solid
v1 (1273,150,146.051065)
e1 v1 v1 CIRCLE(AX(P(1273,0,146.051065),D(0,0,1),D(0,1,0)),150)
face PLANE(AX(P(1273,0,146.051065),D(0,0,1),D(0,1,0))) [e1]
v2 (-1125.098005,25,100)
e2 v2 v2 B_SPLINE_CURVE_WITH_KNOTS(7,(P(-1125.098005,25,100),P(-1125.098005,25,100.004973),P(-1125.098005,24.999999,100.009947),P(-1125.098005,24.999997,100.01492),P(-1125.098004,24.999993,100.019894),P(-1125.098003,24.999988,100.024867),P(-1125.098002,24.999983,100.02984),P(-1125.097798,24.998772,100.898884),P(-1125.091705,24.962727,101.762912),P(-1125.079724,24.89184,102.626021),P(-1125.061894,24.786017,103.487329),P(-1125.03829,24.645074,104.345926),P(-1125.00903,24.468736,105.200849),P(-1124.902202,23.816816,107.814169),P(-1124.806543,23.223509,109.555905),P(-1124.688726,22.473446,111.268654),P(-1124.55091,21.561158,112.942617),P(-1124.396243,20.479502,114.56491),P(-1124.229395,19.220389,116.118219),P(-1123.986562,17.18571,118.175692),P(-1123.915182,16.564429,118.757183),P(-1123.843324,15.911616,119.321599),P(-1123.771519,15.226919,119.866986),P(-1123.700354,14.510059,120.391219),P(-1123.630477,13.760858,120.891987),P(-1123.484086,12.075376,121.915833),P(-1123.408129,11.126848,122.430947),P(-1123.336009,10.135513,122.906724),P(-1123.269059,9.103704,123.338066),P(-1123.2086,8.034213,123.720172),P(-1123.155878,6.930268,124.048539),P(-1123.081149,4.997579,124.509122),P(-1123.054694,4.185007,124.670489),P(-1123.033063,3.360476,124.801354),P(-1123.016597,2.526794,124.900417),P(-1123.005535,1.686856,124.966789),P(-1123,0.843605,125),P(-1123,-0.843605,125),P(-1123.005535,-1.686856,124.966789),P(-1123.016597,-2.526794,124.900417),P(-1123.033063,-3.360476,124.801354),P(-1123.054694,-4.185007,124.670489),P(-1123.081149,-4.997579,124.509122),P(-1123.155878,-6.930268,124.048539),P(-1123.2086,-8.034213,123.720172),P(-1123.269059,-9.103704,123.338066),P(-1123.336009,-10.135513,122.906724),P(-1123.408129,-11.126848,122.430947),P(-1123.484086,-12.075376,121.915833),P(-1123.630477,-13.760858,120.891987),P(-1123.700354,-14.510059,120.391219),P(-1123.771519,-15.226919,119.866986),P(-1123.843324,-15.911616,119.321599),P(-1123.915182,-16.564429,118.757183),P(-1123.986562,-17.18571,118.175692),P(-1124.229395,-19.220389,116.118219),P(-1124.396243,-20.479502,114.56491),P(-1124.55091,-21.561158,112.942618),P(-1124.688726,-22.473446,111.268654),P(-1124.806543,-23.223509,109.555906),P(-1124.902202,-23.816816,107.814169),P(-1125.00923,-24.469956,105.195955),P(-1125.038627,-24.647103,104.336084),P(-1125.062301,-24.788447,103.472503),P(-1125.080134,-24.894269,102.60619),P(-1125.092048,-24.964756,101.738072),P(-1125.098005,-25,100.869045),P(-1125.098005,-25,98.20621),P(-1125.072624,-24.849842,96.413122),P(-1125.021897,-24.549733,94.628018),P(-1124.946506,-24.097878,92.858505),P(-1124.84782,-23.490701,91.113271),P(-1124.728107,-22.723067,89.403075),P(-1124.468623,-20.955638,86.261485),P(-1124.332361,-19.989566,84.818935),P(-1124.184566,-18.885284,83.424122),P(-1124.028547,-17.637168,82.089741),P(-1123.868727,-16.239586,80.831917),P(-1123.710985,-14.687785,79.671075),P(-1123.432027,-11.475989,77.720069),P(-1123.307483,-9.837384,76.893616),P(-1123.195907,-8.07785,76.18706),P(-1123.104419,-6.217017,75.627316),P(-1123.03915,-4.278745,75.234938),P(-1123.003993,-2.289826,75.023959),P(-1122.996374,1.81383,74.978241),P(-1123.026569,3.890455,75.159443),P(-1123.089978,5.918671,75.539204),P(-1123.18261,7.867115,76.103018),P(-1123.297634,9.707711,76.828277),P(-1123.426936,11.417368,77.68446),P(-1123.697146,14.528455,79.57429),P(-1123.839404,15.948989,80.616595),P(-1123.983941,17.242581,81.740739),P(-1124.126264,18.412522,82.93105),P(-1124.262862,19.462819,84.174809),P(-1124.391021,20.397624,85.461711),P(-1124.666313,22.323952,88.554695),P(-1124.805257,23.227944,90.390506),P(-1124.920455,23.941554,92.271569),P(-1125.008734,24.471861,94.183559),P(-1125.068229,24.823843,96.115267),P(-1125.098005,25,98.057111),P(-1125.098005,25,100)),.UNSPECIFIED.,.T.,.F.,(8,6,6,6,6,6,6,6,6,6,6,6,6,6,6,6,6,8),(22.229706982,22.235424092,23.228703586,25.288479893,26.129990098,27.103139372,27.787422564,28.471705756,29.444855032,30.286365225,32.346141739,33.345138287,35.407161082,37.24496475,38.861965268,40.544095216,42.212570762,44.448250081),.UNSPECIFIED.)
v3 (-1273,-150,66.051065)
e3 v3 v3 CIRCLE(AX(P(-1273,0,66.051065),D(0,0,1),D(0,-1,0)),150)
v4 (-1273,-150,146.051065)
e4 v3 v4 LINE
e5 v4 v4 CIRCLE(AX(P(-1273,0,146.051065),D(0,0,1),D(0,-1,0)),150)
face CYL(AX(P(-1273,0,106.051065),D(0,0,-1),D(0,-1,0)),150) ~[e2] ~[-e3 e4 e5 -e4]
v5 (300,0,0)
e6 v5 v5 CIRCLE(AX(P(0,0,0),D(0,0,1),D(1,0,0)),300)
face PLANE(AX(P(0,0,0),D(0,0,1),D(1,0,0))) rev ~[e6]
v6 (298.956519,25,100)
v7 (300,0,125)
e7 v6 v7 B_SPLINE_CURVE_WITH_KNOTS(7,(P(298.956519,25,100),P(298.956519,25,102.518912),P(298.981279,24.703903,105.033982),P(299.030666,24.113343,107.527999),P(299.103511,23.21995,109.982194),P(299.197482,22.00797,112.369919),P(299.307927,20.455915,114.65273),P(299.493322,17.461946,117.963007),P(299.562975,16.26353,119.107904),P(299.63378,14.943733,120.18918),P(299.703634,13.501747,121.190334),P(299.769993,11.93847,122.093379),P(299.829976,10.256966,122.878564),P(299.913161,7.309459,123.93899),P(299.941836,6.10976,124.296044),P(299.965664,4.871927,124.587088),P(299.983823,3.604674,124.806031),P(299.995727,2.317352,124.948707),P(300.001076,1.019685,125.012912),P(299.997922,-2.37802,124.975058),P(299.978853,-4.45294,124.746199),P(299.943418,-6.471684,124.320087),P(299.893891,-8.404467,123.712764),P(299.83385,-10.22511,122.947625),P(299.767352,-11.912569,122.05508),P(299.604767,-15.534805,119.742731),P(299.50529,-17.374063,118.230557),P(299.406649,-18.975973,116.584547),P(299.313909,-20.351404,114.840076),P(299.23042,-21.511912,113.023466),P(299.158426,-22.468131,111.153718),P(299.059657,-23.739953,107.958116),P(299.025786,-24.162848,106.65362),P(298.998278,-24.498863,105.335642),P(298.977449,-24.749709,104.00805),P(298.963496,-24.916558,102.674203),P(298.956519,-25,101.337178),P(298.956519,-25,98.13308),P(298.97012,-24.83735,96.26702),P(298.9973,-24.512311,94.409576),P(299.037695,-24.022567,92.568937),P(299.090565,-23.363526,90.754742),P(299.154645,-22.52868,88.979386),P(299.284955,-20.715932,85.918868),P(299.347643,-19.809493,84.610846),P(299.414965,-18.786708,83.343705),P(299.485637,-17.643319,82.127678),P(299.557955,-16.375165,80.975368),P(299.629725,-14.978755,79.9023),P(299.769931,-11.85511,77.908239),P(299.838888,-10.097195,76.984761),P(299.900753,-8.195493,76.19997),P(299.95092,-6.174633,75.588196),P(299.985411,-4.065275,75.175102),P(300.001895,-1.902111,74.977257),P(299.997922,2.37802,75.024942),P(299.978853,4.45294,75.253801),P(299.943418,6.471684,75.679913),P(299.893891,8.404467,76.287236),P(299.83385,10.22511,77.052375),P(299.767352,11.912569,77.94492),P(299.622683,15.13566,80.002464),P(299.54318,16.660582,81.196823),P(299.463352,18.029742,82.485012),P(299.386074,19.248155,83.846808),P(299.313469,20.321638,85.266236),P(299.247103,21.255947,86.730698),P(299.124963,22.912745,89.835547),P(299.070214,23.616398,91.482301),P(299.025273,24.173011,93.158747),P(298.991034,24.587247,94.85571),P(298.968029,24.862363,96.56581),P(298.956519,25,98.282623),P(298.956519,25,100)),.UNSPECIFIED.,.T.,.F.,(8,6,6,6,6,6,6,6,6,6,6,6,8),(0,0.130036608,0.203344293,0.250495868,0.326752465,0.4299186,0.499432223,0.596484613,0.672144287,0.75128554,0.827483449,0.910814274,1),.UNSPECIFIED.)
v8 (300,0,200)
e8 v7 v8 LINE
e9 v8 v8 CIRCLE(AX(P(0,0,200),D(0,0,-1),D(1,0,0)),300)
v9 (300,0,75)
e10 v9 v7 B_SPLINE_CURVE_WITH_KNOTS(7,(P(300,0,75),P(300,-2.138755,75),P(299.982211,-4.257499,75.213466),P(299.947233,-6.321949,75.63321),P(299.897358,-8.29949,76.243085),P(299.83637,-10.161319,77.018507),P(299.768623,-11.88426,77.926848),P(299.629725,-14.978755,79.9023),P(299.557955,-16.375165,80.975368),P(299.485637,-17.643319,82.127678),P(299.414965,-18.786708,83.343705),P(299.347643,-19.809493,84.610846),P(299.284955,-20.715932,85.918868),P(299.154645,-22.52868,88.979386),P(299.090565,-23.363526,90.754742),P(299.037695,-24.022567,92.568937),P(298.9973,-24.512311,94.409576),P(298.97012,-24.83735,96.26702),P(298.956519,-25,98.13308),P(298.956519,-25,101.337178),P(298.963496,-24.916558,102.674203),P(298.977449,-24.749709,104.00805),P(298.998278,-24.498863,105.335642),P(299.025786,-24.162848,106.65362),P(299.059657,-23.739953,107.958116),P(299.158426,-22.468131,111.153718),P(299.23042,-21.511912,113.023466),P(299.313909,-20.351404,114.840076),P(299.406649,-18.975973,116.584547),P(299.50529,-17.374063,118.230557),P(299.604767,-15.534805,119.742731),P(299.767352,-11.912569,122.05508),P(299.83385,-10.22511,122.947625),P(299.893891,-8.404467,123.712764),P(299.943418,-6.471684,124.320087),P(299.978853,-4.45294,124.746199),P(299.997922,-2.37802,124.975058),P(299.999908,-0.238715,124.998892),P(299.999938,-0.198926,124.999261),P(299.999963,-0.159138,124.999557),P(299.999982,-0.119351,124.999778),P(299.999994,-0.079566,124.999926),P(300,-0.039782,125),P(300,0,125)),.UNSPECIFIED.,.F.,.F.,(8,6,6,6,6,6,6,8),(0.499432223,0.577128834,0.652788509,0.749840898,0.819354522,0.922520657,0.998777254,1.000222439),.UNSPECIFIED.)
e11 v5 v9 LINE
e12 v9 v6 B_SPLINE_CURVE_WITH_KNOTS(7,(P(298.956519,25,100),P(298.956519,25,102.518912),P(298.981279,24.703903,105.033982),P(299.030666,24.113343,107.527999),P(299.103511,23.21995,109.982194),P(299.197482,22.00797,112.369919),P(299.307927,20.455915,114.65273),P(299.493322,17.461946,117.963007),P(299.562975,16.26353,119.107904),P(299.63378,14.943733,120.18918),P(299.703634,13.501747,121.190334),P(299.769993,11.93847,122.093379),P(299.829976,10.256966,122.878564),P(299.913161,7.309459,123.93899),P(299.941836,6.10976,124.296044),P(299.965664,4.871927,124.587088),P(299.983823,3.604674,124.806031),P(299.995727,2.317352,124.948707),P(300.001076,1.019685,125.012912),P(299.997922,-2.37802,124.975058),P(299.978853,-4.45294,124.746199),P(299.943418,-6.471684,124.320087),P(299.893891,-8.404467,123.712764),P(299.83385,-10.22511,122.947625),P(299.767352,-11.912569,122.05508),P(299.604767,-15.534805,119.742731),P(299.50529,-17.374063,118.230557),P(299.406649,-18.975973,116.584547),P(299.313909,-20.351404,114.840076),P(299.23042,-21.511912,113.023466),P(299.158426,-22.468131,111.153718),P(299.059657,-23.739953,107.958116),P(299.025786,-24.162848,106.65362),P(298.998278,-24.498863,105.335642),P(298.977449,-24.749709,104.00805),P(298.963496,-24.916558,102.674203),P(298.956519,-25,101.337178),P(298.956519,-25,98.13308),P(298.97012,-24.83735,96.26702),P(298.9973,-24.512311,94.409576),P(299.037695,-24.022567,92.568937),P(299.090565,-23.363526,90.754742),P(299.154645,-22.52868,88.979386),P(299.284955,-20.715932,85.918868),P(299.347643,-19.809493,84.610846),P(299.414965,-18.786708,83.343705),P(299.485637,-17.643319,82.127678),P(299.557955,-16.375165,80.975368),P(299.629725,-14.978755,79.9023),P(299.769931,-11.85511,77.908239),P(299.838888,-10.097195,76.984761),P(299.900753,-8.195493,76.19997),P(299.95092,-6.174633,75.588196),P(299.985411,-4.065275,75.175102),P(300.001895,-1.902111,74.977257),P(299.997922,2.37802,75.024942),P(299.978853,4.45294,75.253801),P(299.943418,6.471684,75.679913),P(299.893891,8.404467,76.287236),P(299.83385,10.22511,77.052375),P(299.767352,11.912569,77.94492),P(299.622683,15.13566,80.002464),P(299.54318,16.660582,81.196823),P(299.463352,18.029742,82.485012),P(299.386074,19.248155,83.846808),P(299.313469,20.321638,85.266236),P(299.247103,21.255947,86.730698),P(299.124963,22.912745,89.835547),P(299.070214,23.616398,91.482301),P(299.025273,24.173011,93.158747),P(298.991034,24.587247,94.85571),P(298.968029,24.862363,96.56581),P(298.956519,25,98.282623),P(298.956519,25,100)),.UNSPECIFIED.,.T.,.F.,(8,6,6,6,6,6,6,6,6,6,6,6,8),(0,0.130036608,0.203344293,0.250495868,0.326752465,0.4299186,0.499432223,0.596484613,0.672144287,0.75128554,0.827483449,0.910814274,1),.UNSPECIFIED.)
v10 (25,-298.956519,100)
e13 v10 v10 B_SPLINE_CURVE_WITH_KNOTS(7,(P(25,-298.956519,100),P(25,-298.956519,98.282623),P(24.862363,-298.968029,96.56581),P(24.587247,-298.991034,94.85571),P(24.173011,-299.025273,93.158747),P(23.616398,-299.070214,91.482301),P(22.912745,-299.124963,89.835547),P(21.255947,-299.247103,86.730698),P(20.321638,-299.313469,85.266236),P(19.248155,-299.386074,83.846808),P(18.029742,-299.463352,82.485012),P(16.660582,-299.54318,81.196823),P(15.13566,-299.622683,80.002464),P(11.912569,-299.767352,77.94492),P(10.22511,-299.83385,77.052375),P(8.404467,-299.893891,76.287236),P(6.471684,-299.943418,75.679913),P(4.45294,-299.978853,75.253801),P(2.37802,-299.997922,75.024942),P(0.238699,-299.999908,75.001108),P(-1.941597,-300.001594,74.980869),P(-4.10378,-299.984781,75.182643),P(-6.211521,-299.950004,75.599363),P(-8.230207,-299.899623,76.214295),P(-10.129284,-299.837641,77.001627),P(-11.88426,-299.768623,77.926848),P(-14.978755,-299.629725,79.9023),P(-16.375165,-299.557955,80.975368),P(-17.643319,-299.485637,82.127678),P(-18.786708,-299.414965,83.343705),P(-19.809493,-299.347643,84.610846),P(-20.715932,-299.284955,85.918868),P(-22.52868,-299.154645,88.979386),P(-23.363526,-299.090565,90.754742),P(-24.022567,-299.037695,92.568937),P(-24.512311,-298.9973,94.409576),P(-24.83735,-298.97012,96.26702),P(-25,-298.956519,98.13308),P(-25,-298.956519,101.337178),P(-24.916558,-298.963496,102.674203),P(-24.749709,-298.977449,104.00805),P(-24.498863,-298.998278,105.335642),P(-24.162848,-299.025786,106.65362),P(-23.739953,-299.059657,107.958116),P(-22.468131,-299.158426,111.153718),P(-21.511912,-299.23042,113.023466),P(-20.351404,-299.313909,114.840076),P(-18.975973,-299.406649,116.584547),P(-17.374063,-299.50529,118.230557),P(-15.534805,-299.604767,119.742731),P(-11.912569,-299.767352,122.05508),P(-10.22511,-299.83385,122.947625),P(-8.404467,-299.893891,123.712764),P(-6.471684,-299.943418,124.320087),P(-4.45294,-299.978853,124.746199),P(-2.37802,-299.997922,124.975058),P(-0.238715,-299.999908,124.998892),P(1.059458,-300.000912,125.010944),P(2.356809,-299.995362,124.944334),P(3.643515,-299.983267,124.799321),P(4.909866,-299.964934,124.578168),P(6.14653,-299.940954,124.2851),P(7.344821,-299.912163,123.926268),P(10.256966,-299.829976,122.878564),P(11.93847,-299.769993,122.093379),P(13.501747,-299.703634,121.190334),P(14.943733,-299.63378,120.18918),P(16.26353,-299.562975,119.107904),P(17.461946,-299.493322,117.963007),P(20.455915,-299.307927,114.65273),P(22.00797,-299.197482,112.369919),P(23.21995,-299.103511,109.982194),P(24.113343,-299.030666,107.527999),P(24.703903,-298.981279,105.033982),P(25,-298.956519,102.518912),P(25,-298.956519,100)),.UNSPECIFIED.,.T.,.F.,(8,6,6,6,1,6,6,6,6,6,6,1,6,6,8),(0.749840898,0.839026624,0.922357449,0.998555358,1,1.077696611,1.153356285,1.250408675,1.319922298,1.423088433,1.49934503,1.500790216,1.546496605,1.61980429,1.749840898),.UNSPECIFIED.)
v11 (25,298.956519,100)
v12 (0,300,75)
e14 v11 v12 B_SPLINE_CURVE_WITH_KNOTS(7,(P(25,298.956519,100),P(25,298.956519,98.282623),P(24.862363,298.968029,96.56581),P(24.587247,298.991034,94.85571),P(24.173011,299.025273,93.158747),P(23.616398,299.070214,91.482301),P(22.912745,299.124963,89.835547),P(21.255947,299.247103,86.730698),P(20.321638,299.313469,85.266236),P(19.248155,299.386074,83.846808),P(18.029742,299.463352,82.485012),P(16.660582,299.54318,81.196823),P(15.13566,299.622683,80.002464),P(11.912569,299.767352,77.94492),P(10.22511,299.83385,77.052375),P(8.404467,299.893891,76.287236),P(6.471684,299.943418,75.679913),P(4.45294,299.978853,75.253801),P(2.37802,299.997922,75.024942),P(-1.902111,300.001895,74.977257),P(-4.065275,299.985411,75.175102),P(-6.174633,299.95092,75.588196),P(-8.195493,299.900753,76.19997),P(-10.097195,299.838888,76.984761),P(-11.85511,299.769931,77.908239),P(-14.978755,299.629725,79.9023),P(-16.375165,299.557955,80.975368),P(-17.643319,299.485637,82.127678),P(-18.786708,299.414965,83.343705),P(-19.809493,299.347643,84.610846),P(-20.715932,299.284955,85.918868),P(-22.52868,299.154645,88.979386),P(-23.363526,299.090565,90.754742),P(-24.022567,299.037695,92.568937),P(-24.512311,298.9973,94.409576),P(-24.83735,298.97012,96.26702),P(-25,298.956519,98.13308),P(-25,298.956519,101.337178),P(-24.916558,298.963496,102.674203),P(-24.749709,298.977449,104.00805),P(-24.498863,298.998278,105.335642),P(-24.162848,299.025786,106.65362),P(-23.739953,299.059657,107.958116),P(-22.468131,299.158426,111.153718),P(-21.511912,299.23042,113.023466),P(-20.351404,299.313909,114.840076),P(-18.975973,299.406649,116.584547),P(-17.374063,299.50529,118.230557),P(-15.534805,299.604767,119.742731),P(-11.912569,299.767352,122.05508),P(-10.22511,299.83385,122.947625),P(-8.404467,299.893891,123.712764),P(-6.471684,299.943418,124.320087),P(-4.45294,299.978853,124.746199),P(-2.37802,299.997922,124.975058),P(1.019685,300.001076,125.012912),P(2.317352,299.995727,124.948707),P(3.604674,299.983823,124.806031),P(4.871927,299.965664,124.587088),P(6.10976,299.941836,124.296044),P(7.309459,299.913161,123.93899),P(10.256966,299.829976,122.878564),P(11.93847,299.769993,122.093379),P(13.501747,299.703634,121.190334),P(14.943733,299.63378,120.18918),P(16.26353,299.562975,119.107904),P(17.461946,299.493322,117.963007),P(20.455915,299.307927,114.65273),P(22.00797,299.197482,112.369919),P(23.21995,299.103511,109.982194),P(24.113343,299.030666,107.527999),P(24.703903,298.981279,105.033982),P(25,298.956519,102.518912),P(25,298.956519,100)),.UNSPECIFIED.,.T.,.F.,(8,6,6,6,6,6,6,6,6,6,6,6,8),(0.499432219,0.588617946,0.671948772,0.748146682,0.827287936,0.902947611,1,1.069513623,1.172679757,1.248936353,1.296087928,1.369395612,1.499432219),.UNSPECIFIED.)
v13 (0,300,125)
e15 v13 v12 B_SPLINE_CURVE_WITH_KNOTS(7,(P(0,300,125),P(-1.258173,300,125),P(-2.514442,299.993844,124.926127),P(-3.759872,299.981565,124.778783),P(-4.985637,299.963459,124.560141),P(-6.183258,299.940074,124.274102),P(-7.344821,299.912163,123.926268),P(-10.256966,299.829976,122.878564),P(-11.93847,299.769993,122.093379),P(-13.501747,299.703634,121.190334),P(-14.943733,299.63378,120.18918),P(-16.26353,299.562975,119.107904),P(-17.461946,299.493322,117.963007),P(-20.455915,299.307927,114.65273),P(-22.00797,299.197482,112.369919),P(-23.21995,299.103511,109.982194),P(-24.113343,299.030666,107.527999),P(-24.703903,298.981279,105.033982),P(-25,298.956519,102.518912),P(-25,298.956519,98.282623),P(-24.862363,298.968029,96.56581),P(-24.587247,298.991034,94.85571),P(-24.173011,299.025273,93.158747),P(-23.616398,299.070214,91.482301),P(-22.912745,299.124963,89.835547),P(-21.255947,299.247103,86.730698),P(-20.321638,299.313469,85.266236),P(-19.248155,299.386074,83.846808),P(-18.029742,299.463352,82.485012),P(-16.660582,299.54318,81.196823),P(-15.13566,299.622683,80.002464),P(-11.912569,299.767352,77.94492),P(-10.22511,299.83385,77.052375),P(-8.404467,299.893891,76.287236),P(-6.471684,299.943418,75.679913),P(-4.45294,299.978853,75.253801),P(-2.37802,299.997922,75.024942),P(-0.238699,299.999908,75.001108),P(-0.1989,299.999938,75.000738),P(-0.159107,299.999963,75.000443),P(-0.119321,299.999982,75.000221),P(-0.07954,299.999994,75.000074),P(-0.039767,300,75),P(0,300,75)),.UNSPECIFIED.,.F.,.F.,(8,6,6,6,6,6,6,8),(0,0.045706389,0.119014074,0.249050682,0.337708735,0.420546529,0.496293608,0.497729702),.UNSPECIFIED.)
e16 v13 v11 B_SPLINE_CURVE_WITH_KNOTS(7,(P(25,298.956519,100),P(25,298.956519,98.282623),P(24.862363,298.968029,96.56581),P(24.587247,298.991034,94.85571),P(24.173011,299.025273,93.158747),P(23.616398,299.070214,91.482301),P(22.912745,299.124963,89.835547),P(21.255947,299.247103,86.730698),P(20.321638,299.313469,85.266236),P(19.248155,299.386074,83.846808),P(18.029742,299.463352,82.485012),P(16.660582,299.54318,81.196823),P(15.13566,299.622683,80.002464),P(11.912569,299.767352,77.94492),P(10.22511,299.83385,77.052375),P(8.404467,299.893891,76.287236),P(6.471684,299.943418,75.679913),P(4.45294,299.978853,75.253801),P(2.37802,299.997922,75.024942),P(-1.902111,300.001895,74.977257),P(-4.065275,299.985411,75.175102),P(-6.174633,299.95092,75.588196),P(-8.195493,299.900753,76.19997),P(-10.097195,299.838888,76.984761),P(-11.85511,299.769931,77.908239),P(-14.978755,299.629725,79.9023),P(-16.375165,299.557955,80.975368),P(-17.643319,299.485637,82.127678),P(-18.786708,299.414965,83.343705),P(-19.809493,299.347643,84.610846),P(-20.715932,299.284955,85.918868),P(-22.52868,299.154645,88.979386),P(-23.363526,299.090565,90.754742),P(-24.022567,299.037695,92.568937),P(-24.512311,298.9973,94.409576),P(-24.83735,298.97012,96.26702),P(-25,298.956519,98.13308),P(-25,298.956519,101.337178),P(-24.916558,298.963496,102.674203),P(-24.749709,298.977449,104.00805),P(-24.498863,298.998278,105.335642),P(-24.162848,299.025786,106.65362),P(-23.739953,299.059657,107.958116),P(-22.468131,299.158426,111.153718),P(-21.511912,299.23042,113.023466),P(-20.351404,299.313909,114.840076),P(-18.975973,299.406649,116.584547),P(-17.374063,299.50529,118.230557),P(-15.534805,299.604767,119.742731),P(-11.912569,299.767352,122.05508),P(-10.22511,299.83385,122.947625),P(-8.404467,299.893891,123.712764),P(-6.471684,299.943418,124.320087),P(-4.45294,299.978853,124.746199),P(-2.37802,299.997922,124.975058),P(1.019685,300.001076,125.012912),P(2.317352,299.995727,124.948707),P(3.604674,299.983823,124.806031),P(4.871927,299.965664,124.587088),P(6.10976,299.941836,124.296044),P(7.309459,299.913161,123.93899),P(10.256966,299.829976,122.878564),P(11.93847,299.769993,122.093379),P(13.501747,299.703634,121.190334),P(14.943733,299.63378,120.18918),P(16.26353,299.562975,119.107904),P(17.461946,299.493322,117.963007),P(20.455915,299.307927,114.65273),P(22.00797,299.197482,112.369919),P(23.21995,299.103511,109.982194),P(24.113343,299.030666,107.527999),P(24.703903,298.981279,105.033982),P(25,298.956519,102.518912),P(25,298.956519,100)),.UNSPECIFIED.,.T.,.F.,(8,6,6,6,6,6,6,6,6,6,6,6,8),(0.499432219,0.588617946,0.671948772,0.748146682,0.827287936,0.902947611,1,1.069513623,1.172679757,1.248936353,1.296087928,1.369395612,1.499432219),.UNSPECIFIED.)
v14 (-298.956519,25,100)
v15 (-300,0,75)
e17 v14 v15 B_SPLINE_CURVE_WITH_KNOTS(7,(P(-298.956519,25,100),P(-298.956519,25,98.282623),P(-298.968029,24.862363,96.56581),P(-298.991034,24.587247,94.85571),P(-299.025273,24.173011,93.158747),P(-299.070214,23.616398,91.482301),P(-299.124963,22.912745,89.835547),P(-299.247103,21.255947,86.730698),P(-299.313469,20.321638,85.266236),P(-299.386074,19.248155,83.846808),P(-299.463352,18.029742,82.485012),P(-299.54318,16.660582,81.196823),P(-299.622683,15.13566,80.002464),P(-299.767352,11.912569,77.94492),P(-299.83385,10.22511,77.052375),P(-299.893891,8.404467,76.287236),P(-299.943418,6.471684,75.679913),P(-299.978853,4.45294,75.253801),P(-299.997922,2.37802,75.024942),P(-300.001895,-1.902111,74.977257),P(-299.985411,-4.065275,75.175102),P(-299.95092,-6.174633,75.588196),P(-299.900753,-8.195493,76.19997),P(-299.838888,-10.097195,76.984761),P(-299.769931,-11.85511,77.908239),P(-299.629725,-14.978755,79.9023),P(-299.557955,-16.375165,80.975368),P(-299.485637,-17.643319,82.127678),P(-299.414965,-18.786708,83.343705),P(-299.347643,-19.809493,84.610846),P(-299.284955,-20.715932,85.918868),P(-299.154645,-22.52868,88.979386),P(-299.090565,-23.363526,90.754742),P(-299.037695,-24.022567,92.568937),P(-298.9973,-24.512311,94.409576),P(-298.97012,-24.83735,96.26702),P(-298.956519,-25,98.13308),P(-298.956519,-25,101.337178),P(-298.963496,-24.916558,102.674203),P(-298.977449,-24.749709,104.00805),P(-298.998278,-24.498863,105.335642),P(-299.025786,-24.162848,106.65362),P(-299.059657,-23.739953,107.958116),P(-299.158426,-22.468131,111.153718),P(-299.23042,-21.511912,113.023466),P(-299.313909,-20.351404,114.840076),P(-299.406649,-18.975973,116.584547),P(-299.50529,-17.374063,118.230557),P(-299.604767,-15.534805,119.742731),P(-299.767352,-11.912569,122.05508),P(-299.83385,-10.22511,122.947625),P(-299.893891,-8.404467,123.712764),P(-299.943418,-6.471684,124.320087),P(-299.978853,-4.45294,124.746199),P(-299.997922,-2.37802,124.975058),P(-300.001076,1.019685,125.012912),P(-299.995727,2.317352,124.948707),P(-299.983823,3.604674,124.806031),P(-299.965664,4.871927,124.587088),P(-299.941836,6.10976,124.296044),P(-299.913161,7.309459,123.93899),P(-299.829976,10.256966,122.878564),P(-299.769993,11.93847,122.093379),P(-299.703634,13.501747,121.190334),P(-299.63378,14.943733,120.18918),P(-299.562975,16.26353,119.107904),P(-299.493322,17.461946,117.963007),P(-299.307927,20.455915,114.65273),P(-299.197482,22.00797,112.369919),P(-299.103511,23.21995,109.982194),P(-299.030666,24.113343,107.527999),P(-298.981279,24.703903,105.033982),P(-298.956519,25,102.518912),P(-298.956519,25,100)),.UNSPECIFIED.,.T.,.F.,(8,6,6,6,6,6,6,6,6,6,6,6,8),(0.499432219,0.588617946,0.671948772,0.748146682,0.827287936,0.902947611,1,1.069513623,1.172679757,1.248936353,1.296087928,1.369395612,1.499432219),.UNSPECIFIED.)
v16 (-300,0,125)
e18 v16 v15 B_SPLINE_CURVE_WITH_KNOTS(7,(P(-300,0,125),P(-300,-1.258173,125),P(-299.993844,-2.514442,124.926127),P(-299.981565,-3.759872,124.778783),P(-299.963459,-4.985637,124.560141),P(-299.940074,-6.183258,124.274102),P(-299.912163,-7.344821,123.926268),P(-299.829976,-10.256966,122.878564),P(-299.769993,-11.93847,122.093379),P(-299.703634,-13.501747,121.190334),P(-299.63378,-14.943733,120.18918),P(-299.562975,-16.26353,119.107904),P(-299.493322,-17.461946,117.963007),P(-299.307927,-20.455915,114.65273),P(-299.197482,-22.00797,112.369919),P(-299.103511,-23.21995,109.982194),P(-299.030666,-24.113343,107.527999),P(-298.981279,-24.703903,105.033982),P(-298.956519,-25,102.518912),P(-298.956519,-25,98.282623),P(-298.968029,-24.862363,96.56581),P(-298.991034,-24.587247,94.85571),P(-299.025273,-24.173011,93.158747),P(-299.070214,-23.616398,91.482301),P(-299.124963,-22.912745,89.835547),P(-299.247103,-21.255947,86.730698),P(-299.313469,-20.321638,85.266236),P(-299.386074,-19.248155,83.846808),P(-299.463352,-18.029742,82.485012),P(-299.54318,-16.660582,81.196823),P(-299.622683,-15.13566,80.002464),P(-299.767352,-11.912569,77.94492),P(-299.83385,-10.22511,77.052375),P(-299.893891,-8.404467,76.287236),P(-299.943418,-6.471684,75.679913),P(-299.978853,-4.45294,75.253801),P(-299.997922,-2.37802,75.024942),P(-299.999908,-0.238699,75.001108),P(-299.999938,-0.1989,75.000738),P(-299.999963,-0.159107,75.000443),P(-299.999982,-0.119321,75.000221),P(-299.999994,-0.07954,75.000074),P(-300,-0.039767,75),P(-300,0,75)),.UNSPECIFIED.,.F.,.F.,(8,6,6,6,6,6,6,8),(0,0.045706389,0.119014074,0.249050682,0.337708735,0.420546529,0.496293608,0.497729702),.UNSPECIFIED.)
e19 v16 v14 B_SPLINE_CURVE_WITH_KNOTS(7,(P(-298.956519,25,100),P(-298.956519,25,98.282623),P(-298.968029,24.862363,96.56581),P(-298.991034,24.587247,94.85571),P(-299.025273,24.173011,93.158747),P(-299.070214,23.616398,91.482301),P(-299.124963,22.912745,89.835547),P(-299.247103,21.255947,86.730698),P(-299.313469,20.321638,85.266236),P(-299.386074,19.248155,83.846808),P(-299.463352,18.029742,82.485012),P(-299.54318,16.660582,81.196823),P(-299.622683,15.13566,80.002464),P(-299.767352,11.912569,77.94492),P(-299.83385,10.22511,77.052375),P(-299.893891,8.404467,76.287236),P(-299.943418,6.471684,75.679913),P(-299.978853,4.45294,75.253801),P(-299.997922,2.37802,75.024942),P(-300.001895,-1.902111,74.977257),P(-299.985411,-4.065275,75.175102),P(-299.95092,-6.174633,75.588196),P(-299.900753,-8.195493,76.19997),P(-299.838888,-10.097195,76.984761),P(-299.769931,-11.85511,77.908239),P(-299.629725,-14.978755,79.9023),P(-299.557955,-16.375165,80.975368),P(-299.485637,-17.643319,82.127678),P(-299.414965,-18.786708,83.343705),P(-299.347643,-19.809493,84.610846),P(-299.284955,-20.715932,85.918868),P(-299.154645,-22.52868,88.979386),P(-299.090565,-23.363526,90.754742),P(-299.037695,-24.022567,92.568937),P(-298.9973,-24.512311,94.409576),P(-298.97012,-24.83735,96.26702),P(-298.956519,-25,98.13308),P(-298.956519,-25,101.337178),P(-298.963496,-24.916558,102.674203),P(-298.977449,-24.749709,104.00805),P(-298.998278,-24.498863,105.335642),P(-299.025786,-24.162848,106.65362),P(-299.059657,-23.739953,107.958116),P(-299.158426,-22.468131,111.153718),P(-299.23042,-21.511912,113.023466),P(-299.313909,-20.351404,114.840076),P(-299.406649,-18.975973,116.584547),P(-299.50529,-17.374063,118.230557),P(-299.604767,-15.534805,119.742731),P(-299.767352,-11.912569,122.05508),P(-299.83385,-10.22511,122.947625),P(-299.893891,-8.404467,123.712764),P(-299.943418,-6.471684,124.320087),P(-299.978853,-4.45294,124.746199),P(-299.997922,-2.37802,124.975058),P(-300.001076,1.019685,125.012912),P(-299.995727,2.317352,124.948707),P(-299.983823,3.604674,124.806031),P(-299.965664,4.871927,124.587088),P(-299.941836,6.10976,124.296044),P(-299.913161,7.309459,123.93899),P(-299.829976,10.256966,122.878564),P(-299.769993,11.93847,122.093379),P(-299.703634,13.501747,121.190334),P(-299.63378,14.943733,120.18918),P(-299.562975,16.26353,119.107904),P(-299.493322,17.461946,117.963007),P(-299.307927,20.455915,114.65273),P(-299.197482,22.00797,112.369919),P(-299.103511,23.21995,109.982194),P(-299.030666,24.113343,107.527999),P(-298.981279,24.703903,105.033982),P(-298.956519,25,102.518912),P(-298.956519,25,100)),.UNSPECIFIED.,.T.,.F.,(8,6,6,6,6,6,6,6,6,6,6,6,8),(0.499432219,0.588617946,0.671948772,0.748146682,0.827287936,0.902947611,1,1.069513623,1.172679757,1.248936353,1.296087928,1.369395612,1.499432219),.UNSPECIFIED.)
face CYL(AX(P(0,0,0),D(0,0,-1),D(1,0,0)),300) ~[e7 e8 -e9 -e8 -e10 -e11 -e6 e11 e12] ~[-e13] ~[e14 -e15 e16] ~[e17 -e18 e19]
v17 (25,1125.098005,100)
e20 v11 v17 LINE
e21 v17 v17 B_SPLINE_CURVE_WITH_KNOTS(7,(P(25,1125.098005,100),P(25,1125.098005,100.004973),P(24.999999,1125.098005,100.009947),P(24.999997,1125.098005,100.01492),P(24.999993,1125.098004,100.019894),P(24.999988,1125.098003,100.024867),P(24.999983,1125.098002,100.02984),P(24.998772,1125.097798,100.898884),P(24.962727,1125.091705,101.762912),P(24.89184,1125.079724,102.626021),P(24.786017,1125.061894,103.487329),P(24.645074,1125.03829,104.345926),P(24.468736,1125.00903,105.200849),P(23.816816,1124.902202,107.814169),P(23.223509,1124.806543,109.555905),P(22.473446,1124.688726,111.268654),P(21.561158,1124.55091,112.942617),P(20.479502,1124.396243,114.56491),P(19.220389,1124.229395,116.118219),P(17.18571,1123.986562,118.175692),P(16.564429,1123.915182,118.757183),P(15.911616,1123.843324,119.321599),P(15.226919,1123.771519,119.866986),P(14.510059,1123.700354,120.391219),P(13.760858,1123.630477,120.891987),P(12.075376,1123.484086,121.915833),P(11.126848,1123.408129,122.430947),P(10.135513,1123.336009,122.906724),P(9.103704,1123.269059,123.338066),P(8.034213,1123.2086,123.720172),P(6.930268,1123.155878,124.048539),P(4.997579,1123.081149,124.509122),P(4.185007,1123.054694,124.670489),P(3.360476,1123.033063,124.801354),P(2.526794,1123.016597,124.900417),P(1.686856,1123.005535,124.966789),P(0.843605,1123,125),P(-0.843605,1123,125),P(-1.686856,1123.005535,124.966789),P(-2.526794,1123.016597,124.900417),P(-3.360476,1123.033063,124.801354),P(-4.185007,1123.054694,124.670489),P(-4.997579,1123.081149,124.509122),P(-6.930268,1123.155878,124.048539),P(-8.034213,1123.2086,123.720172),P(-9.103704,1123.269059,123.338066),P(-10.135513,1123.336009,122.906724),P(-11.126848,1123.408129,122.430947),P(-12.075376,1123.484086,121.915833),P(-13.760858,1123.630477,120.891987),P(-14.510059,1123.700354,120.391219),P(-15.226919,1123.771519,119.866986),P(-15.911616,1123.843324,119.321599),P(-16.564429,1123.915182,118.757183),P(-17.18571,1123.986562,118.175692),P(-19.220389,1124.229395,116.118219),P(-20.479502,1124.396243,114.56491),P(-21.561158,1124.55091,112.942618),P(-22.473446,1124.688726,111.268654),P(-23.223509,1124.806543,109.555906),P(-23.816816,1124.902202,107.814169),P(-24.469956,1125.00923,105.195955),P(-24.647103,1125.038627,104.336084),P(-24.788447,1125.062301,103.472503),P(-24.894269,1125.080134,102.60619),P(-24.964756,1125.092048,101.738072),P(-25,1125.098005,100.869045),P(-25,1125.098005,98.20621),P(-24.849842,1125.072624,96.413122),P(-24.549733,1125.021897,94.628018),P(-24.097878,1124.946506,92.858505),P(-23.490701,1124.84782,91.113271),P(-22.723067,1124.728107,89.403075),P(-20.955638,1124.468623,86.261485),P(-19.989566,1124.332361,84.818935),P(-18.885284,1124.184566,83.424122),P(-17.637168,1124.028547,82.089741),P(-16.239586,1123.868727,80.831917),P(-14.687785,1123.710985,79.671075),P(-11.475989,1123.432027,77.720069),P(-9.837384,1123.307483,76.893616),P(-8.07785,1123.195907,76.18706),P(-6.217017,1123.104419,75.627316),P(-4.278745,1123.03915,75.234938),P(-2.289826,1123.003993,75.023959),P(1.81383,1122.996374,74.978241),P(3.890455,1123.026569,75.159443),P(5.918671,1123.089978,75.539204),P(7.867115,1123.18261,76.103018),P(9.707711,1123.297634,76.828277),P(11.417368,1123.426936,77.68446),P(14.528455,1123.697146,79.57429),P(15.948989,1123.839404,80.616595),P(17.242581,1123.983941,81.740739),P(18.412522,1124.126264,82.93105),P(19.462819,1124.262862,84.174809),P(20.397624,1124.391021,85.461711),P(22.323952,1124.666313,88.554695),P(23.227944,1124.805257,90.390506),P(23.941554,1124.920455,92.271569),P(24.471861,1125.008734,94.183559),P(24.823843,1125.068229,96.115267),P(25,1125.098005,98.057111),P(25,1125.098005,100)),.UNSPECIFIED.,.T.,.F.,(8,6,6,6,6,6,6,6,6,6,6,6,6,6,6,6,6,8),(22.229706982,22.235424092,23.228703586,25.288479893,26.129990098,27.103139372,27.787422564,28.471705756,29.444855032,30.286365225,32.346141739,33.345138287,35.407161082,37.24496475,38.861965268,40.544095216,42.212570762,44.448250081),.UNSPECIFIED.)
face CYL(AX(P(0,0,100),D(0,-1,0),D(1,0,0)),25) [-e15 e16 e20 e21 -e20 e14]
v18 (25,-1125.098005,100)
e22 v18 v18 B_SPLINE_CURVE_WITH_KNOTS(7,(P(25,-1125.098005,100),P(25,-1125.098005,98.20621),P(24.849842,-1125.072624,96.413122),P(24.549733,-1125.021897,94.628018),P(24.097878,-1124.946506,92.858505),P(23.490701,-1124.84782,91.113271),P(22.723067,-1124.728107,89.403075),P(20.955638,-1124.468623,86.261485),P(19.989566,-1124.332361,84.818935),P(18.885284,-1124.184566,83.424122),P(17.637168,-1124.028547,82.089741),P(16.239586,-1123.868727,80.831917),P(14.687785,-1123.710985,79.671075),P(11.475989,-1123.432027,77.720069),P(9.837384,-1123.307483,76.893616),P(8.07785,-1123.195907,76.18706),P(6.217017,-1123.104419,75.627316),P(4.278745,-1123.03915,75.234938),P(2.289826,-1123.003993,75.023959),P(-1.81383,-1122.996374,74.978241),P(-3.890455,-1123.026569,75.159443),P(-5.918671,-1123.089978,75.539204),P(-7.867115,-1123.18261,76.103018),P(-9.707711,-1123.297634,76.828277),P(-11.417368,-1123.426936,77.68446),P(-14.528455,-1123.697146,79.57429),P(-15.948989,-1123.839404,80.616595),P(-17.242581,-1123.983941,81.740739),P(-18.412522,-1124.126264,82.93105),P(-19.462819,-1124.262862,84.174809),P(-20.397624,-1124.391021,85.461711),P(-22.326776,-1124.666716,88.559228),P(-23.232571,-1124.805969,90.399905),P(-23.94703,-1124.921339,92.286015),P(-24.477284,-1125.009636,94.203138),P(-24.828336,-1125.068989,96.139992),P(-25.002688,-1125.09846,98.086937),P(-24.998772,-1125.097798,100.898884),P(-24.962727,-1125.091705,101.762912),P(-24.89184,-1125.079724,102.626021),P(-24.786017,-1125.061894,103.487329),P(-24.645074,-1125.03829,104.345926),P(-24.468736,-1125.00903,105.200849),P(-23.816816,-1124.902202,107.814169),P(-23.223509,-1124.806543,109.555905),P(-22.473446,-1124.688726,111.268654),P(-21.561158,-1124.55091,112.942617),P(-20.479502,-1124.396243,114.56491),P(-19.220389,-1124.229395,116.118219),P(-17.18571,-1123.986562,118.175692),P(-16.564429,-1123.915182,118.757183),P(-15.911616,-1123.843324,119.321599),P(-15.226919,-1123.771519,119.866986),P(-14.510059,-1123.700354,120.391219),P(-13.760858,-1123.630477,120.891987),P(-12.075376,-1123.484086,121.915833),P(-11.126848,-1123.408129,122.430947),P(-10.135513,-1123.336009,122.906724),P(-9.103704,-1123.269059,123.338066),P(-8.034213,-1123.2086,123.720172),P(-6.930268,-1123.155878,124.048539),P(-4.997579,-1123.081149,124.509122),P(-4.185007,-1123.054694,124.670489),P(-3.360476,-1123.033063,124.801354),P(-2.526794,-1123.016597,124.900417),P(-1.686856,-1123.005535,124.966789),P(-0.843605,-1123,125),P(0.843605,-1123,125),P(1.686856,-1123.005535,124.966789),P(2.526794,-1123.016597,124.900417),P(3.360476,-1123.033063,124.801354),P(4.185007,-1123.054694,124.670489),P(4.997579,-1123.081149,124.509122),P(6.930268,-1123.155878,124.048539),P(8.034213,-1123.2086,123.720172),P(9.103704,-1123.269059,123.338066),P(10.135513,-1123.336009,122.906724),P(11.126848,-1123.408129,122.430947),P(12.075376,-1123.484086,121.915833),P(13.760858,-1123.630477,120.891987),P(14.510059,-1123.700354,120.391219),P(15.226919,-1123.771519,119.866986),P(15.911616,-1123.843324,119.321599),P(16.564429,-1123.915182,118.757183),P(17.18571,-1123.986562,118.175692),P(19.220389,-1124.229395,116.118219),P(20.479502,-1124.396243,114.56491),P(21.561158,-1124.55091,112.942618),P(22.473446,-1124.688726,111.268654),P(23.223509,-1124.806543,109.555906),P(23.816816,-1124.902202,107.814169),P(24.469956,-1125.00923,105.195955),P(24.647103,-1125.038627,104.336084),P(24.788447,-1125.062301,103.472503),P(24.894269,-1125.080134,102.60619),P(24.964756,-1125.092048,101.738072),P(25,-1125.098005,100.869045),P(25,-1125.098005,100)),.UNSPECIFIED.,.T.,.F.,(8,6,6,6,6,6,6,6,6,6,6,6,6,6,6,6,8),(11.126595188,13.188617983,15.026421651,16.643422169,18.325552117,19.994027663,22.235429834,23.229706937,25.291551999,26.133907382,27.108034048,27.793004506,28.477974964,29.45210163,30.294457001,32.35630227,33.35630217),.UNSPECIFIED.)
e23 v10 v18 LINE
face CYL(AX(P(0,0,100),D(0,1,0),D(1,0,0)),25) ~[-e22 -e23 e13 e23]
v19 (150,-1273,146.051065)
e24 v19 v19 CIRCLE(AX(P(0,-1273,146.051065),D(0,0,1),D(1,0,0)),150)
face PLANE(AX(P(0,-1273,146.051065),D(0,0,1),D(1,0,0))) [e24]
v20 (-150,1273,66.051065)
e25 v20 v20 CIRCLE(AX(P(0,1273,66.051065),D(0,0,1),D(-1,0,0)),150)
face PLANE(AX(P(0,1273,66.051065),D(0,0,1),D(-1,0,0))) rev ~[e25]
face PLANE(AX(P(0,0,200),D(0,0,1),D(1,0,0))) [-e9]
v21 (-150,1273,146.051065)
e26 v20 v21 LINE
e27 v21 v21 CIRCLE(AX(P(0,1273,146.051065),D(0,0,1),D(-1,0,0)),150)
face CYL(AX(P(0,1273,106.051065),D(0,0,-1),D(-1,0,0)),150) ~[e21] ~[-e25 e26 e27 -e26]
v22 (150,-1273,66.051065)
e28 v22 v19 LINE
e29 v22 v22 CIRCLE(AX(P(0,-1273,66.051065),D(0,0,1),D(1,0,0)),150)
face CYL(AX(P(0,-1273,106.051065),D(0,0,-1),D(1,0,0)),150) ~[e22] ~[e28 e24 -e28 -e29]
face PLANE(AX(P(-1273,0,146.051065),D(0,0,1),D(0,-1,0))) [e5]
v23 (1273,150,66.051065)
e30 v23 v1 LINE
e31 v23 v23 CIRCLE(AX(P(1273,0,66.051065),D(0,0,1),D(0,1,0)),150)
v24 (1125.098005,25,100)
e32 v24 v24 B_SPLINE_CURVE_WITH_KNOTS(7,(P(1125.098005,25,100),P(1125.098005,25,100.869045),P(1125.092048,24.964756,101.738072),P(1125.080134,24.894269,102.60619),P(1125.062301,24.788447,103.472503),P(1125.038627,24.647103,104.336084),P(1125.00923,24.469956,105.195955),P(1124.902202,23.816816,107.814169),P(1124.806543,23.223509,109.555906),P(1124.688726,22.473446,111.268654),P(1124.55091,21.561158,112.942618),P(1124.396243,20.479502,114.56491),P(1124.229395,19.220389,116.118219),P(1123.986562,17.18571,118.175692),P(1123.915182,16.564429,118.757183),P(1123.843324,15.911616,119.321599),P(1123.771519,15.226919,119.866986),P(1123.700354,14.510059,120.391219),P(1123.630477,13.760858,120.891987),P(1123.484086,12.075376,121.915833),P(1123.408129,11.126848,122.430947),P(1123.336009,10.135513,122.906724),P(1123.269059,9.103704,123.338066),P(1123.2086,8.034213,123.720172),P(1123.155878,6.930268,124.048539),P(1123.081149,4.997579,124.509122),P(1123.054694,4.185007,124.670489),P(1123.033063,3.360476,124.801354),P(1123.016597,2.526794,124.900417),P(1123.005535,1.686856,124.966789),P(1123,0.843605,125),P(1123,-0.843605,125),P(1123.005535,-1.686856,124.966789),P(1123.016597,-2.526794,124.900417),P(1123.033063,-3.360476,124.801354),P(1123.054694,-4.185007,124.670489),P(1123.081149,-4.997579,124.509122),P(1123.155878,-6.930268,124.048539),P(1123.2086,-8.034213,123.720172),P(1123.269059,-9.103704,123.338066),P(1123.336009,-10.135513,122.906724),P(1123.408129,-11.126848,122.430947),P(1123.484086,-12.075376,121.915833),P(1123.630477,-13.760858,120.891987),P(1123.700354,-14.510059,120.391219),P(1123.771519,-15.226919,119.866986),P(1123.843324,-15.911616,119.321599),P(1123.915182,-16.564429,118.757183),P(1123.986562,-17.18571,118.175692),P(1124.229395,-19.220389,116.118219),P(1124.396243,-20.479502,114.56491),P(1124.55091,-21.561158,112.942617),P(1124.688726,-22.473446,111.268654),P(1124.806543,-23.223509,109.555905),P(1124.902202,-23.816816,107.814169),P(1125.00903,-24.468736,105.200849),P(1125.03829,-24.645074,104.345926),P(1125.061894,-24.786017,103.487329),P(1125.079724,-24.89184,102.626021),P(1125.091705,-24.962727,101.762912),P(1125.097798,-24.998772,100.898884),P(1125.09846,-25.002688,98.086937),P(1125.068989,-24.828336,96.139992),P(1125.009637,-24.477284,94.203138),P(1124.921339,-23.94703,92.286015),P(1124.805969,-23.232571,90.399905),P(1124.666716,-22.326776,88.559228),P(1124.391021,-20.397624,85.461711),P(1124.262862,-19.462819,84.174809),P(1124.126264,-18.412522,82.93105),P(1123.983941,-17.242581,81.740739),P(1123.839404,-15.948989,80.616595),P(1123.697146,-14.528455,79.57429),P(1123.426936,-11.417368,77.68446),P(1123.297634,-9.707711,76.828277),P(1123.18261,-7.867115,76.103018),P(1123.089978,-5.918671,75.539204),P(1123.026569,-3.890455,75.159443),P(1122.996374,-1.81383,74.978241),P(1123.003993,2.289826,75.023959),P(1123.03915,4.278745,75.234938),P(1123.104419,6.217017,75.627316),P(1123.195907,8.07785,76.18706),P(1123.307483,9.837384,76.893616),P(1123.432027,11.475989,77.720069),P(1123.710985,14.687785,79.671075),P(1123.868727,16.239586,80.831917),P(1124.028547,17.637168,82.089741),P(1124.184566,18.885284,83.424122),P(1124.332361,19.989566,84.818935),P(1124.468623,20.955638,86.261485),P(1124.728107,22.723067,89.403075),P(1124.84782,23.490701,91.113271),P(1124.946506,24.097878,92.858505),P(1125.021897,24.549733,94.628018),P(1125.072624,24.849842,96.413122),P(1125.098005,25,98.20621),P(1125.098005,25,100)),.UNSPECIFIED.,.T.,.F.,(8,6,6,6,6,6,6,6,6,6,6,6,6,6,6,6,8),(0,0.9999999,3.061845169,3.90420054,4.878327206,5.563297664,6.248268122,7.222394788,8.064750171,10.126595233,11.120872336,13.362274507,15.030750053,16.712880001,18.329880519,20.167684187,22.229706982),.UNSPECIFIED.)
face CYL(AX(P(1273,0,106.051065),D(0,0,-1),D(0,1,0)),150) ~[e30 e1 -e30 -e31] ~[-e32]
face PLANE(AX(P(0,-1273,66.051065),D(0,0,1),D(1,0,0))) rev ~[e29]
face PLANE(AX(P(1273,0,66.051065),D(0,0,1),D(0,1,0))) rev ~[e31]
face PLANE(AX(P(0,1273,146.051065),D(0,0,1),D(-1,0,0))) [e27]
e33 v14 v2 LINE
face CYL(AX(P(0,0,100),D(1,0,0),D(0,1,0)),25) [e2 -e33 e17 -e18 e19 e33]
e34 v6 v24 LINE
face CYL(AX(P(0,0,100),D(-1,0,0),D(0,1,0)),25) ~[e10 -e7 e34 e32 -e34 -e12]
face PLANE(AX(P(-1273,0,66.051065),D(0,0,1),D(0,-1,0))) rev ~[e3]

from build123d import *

# Parameters (mm, degrees)
F0_R          = 300
F1_DEPTH      = 200
F2_R          = 25
F3_DEPTH      = 1273
F3_DEPTH_BACK = 1273
F4_COUNT      = 2
F4_ANGLE      = 90
F5_W          = 20.2650688589
F5_H          = 12.1021300554
F6_DEPTH      = 25
F7_R          = 150
F7_W          = 20.2650688589
F7_H          = 25
F8_DEPTH      = 40
F8_DEPTH_BACK = 40
F9_COUNT      = 4


with BuildPart() as f1:
    # F0 (on Top) → F1 (new body)
    with BuildSketch(Plane.XY):
        Circle(F0_R)
    extrude(amount=F1_DEPTH)

    # F2 (on Front) → F3 (join, two sides)
    with BuildSketch(Plane.XZ) as f3_sk:
        with Locations((0, 100)):
            Circle(F2_R)
    extrude(amount=F3_DEPTH)
    extrude(f3_sk.sketch, amount=-F3_DEPTH_BACK)

    # F4: F1 ×2 about axis
    f4_axis = Axis((0, 0, 200), (0, 0, 1))


with BuildPart() as f1_1:
    add(f1.part)
    for i in range(1, F4_COUNT):
        add(f1.part.rotate(f4_axis, i * F4_ANGLE / (F4_COUNT - 1)))

    # F5 (on face) → F6 (join)
    with BuildSketch(Plane.XZ.offset(1273)):
        with Locations((0, 100)):
            Rectangle(F5_W, F5_H)
    extrude(amount=F6_DEPTH)

    # F7 (on face) → F8 (join, two sides)
    with BuildSketch(Plane.XY.offset(106.0510650277)) as f8_sk:
        with Locations((0, -1273)):
            Circle(F7_R)
        with Locations((0, -1285.5)):
            Rectangle(F7_W, F7_H, mode=Mode.SUBTRACT)
        with Locations((0, -1285.5)):
            Rectangle(F7_W, F7_H)
    extrude(amount=-F8_DEPTH)
    extrude(f8_sk.sketch, amount=F8_DEPTH_BACK)

    # F9: F1 ×4 about axis
    f9_axis = Axis((0, 0, 200), (0, 0, -1))


with BuildPart() as f1_2:
    add(f1_1.part)
    for i in range(1, F9_COUNT):
        add(f1_1.part.rotate(f9_axis, i * 360 / F9_COUNT))


solid = f1_2.part
